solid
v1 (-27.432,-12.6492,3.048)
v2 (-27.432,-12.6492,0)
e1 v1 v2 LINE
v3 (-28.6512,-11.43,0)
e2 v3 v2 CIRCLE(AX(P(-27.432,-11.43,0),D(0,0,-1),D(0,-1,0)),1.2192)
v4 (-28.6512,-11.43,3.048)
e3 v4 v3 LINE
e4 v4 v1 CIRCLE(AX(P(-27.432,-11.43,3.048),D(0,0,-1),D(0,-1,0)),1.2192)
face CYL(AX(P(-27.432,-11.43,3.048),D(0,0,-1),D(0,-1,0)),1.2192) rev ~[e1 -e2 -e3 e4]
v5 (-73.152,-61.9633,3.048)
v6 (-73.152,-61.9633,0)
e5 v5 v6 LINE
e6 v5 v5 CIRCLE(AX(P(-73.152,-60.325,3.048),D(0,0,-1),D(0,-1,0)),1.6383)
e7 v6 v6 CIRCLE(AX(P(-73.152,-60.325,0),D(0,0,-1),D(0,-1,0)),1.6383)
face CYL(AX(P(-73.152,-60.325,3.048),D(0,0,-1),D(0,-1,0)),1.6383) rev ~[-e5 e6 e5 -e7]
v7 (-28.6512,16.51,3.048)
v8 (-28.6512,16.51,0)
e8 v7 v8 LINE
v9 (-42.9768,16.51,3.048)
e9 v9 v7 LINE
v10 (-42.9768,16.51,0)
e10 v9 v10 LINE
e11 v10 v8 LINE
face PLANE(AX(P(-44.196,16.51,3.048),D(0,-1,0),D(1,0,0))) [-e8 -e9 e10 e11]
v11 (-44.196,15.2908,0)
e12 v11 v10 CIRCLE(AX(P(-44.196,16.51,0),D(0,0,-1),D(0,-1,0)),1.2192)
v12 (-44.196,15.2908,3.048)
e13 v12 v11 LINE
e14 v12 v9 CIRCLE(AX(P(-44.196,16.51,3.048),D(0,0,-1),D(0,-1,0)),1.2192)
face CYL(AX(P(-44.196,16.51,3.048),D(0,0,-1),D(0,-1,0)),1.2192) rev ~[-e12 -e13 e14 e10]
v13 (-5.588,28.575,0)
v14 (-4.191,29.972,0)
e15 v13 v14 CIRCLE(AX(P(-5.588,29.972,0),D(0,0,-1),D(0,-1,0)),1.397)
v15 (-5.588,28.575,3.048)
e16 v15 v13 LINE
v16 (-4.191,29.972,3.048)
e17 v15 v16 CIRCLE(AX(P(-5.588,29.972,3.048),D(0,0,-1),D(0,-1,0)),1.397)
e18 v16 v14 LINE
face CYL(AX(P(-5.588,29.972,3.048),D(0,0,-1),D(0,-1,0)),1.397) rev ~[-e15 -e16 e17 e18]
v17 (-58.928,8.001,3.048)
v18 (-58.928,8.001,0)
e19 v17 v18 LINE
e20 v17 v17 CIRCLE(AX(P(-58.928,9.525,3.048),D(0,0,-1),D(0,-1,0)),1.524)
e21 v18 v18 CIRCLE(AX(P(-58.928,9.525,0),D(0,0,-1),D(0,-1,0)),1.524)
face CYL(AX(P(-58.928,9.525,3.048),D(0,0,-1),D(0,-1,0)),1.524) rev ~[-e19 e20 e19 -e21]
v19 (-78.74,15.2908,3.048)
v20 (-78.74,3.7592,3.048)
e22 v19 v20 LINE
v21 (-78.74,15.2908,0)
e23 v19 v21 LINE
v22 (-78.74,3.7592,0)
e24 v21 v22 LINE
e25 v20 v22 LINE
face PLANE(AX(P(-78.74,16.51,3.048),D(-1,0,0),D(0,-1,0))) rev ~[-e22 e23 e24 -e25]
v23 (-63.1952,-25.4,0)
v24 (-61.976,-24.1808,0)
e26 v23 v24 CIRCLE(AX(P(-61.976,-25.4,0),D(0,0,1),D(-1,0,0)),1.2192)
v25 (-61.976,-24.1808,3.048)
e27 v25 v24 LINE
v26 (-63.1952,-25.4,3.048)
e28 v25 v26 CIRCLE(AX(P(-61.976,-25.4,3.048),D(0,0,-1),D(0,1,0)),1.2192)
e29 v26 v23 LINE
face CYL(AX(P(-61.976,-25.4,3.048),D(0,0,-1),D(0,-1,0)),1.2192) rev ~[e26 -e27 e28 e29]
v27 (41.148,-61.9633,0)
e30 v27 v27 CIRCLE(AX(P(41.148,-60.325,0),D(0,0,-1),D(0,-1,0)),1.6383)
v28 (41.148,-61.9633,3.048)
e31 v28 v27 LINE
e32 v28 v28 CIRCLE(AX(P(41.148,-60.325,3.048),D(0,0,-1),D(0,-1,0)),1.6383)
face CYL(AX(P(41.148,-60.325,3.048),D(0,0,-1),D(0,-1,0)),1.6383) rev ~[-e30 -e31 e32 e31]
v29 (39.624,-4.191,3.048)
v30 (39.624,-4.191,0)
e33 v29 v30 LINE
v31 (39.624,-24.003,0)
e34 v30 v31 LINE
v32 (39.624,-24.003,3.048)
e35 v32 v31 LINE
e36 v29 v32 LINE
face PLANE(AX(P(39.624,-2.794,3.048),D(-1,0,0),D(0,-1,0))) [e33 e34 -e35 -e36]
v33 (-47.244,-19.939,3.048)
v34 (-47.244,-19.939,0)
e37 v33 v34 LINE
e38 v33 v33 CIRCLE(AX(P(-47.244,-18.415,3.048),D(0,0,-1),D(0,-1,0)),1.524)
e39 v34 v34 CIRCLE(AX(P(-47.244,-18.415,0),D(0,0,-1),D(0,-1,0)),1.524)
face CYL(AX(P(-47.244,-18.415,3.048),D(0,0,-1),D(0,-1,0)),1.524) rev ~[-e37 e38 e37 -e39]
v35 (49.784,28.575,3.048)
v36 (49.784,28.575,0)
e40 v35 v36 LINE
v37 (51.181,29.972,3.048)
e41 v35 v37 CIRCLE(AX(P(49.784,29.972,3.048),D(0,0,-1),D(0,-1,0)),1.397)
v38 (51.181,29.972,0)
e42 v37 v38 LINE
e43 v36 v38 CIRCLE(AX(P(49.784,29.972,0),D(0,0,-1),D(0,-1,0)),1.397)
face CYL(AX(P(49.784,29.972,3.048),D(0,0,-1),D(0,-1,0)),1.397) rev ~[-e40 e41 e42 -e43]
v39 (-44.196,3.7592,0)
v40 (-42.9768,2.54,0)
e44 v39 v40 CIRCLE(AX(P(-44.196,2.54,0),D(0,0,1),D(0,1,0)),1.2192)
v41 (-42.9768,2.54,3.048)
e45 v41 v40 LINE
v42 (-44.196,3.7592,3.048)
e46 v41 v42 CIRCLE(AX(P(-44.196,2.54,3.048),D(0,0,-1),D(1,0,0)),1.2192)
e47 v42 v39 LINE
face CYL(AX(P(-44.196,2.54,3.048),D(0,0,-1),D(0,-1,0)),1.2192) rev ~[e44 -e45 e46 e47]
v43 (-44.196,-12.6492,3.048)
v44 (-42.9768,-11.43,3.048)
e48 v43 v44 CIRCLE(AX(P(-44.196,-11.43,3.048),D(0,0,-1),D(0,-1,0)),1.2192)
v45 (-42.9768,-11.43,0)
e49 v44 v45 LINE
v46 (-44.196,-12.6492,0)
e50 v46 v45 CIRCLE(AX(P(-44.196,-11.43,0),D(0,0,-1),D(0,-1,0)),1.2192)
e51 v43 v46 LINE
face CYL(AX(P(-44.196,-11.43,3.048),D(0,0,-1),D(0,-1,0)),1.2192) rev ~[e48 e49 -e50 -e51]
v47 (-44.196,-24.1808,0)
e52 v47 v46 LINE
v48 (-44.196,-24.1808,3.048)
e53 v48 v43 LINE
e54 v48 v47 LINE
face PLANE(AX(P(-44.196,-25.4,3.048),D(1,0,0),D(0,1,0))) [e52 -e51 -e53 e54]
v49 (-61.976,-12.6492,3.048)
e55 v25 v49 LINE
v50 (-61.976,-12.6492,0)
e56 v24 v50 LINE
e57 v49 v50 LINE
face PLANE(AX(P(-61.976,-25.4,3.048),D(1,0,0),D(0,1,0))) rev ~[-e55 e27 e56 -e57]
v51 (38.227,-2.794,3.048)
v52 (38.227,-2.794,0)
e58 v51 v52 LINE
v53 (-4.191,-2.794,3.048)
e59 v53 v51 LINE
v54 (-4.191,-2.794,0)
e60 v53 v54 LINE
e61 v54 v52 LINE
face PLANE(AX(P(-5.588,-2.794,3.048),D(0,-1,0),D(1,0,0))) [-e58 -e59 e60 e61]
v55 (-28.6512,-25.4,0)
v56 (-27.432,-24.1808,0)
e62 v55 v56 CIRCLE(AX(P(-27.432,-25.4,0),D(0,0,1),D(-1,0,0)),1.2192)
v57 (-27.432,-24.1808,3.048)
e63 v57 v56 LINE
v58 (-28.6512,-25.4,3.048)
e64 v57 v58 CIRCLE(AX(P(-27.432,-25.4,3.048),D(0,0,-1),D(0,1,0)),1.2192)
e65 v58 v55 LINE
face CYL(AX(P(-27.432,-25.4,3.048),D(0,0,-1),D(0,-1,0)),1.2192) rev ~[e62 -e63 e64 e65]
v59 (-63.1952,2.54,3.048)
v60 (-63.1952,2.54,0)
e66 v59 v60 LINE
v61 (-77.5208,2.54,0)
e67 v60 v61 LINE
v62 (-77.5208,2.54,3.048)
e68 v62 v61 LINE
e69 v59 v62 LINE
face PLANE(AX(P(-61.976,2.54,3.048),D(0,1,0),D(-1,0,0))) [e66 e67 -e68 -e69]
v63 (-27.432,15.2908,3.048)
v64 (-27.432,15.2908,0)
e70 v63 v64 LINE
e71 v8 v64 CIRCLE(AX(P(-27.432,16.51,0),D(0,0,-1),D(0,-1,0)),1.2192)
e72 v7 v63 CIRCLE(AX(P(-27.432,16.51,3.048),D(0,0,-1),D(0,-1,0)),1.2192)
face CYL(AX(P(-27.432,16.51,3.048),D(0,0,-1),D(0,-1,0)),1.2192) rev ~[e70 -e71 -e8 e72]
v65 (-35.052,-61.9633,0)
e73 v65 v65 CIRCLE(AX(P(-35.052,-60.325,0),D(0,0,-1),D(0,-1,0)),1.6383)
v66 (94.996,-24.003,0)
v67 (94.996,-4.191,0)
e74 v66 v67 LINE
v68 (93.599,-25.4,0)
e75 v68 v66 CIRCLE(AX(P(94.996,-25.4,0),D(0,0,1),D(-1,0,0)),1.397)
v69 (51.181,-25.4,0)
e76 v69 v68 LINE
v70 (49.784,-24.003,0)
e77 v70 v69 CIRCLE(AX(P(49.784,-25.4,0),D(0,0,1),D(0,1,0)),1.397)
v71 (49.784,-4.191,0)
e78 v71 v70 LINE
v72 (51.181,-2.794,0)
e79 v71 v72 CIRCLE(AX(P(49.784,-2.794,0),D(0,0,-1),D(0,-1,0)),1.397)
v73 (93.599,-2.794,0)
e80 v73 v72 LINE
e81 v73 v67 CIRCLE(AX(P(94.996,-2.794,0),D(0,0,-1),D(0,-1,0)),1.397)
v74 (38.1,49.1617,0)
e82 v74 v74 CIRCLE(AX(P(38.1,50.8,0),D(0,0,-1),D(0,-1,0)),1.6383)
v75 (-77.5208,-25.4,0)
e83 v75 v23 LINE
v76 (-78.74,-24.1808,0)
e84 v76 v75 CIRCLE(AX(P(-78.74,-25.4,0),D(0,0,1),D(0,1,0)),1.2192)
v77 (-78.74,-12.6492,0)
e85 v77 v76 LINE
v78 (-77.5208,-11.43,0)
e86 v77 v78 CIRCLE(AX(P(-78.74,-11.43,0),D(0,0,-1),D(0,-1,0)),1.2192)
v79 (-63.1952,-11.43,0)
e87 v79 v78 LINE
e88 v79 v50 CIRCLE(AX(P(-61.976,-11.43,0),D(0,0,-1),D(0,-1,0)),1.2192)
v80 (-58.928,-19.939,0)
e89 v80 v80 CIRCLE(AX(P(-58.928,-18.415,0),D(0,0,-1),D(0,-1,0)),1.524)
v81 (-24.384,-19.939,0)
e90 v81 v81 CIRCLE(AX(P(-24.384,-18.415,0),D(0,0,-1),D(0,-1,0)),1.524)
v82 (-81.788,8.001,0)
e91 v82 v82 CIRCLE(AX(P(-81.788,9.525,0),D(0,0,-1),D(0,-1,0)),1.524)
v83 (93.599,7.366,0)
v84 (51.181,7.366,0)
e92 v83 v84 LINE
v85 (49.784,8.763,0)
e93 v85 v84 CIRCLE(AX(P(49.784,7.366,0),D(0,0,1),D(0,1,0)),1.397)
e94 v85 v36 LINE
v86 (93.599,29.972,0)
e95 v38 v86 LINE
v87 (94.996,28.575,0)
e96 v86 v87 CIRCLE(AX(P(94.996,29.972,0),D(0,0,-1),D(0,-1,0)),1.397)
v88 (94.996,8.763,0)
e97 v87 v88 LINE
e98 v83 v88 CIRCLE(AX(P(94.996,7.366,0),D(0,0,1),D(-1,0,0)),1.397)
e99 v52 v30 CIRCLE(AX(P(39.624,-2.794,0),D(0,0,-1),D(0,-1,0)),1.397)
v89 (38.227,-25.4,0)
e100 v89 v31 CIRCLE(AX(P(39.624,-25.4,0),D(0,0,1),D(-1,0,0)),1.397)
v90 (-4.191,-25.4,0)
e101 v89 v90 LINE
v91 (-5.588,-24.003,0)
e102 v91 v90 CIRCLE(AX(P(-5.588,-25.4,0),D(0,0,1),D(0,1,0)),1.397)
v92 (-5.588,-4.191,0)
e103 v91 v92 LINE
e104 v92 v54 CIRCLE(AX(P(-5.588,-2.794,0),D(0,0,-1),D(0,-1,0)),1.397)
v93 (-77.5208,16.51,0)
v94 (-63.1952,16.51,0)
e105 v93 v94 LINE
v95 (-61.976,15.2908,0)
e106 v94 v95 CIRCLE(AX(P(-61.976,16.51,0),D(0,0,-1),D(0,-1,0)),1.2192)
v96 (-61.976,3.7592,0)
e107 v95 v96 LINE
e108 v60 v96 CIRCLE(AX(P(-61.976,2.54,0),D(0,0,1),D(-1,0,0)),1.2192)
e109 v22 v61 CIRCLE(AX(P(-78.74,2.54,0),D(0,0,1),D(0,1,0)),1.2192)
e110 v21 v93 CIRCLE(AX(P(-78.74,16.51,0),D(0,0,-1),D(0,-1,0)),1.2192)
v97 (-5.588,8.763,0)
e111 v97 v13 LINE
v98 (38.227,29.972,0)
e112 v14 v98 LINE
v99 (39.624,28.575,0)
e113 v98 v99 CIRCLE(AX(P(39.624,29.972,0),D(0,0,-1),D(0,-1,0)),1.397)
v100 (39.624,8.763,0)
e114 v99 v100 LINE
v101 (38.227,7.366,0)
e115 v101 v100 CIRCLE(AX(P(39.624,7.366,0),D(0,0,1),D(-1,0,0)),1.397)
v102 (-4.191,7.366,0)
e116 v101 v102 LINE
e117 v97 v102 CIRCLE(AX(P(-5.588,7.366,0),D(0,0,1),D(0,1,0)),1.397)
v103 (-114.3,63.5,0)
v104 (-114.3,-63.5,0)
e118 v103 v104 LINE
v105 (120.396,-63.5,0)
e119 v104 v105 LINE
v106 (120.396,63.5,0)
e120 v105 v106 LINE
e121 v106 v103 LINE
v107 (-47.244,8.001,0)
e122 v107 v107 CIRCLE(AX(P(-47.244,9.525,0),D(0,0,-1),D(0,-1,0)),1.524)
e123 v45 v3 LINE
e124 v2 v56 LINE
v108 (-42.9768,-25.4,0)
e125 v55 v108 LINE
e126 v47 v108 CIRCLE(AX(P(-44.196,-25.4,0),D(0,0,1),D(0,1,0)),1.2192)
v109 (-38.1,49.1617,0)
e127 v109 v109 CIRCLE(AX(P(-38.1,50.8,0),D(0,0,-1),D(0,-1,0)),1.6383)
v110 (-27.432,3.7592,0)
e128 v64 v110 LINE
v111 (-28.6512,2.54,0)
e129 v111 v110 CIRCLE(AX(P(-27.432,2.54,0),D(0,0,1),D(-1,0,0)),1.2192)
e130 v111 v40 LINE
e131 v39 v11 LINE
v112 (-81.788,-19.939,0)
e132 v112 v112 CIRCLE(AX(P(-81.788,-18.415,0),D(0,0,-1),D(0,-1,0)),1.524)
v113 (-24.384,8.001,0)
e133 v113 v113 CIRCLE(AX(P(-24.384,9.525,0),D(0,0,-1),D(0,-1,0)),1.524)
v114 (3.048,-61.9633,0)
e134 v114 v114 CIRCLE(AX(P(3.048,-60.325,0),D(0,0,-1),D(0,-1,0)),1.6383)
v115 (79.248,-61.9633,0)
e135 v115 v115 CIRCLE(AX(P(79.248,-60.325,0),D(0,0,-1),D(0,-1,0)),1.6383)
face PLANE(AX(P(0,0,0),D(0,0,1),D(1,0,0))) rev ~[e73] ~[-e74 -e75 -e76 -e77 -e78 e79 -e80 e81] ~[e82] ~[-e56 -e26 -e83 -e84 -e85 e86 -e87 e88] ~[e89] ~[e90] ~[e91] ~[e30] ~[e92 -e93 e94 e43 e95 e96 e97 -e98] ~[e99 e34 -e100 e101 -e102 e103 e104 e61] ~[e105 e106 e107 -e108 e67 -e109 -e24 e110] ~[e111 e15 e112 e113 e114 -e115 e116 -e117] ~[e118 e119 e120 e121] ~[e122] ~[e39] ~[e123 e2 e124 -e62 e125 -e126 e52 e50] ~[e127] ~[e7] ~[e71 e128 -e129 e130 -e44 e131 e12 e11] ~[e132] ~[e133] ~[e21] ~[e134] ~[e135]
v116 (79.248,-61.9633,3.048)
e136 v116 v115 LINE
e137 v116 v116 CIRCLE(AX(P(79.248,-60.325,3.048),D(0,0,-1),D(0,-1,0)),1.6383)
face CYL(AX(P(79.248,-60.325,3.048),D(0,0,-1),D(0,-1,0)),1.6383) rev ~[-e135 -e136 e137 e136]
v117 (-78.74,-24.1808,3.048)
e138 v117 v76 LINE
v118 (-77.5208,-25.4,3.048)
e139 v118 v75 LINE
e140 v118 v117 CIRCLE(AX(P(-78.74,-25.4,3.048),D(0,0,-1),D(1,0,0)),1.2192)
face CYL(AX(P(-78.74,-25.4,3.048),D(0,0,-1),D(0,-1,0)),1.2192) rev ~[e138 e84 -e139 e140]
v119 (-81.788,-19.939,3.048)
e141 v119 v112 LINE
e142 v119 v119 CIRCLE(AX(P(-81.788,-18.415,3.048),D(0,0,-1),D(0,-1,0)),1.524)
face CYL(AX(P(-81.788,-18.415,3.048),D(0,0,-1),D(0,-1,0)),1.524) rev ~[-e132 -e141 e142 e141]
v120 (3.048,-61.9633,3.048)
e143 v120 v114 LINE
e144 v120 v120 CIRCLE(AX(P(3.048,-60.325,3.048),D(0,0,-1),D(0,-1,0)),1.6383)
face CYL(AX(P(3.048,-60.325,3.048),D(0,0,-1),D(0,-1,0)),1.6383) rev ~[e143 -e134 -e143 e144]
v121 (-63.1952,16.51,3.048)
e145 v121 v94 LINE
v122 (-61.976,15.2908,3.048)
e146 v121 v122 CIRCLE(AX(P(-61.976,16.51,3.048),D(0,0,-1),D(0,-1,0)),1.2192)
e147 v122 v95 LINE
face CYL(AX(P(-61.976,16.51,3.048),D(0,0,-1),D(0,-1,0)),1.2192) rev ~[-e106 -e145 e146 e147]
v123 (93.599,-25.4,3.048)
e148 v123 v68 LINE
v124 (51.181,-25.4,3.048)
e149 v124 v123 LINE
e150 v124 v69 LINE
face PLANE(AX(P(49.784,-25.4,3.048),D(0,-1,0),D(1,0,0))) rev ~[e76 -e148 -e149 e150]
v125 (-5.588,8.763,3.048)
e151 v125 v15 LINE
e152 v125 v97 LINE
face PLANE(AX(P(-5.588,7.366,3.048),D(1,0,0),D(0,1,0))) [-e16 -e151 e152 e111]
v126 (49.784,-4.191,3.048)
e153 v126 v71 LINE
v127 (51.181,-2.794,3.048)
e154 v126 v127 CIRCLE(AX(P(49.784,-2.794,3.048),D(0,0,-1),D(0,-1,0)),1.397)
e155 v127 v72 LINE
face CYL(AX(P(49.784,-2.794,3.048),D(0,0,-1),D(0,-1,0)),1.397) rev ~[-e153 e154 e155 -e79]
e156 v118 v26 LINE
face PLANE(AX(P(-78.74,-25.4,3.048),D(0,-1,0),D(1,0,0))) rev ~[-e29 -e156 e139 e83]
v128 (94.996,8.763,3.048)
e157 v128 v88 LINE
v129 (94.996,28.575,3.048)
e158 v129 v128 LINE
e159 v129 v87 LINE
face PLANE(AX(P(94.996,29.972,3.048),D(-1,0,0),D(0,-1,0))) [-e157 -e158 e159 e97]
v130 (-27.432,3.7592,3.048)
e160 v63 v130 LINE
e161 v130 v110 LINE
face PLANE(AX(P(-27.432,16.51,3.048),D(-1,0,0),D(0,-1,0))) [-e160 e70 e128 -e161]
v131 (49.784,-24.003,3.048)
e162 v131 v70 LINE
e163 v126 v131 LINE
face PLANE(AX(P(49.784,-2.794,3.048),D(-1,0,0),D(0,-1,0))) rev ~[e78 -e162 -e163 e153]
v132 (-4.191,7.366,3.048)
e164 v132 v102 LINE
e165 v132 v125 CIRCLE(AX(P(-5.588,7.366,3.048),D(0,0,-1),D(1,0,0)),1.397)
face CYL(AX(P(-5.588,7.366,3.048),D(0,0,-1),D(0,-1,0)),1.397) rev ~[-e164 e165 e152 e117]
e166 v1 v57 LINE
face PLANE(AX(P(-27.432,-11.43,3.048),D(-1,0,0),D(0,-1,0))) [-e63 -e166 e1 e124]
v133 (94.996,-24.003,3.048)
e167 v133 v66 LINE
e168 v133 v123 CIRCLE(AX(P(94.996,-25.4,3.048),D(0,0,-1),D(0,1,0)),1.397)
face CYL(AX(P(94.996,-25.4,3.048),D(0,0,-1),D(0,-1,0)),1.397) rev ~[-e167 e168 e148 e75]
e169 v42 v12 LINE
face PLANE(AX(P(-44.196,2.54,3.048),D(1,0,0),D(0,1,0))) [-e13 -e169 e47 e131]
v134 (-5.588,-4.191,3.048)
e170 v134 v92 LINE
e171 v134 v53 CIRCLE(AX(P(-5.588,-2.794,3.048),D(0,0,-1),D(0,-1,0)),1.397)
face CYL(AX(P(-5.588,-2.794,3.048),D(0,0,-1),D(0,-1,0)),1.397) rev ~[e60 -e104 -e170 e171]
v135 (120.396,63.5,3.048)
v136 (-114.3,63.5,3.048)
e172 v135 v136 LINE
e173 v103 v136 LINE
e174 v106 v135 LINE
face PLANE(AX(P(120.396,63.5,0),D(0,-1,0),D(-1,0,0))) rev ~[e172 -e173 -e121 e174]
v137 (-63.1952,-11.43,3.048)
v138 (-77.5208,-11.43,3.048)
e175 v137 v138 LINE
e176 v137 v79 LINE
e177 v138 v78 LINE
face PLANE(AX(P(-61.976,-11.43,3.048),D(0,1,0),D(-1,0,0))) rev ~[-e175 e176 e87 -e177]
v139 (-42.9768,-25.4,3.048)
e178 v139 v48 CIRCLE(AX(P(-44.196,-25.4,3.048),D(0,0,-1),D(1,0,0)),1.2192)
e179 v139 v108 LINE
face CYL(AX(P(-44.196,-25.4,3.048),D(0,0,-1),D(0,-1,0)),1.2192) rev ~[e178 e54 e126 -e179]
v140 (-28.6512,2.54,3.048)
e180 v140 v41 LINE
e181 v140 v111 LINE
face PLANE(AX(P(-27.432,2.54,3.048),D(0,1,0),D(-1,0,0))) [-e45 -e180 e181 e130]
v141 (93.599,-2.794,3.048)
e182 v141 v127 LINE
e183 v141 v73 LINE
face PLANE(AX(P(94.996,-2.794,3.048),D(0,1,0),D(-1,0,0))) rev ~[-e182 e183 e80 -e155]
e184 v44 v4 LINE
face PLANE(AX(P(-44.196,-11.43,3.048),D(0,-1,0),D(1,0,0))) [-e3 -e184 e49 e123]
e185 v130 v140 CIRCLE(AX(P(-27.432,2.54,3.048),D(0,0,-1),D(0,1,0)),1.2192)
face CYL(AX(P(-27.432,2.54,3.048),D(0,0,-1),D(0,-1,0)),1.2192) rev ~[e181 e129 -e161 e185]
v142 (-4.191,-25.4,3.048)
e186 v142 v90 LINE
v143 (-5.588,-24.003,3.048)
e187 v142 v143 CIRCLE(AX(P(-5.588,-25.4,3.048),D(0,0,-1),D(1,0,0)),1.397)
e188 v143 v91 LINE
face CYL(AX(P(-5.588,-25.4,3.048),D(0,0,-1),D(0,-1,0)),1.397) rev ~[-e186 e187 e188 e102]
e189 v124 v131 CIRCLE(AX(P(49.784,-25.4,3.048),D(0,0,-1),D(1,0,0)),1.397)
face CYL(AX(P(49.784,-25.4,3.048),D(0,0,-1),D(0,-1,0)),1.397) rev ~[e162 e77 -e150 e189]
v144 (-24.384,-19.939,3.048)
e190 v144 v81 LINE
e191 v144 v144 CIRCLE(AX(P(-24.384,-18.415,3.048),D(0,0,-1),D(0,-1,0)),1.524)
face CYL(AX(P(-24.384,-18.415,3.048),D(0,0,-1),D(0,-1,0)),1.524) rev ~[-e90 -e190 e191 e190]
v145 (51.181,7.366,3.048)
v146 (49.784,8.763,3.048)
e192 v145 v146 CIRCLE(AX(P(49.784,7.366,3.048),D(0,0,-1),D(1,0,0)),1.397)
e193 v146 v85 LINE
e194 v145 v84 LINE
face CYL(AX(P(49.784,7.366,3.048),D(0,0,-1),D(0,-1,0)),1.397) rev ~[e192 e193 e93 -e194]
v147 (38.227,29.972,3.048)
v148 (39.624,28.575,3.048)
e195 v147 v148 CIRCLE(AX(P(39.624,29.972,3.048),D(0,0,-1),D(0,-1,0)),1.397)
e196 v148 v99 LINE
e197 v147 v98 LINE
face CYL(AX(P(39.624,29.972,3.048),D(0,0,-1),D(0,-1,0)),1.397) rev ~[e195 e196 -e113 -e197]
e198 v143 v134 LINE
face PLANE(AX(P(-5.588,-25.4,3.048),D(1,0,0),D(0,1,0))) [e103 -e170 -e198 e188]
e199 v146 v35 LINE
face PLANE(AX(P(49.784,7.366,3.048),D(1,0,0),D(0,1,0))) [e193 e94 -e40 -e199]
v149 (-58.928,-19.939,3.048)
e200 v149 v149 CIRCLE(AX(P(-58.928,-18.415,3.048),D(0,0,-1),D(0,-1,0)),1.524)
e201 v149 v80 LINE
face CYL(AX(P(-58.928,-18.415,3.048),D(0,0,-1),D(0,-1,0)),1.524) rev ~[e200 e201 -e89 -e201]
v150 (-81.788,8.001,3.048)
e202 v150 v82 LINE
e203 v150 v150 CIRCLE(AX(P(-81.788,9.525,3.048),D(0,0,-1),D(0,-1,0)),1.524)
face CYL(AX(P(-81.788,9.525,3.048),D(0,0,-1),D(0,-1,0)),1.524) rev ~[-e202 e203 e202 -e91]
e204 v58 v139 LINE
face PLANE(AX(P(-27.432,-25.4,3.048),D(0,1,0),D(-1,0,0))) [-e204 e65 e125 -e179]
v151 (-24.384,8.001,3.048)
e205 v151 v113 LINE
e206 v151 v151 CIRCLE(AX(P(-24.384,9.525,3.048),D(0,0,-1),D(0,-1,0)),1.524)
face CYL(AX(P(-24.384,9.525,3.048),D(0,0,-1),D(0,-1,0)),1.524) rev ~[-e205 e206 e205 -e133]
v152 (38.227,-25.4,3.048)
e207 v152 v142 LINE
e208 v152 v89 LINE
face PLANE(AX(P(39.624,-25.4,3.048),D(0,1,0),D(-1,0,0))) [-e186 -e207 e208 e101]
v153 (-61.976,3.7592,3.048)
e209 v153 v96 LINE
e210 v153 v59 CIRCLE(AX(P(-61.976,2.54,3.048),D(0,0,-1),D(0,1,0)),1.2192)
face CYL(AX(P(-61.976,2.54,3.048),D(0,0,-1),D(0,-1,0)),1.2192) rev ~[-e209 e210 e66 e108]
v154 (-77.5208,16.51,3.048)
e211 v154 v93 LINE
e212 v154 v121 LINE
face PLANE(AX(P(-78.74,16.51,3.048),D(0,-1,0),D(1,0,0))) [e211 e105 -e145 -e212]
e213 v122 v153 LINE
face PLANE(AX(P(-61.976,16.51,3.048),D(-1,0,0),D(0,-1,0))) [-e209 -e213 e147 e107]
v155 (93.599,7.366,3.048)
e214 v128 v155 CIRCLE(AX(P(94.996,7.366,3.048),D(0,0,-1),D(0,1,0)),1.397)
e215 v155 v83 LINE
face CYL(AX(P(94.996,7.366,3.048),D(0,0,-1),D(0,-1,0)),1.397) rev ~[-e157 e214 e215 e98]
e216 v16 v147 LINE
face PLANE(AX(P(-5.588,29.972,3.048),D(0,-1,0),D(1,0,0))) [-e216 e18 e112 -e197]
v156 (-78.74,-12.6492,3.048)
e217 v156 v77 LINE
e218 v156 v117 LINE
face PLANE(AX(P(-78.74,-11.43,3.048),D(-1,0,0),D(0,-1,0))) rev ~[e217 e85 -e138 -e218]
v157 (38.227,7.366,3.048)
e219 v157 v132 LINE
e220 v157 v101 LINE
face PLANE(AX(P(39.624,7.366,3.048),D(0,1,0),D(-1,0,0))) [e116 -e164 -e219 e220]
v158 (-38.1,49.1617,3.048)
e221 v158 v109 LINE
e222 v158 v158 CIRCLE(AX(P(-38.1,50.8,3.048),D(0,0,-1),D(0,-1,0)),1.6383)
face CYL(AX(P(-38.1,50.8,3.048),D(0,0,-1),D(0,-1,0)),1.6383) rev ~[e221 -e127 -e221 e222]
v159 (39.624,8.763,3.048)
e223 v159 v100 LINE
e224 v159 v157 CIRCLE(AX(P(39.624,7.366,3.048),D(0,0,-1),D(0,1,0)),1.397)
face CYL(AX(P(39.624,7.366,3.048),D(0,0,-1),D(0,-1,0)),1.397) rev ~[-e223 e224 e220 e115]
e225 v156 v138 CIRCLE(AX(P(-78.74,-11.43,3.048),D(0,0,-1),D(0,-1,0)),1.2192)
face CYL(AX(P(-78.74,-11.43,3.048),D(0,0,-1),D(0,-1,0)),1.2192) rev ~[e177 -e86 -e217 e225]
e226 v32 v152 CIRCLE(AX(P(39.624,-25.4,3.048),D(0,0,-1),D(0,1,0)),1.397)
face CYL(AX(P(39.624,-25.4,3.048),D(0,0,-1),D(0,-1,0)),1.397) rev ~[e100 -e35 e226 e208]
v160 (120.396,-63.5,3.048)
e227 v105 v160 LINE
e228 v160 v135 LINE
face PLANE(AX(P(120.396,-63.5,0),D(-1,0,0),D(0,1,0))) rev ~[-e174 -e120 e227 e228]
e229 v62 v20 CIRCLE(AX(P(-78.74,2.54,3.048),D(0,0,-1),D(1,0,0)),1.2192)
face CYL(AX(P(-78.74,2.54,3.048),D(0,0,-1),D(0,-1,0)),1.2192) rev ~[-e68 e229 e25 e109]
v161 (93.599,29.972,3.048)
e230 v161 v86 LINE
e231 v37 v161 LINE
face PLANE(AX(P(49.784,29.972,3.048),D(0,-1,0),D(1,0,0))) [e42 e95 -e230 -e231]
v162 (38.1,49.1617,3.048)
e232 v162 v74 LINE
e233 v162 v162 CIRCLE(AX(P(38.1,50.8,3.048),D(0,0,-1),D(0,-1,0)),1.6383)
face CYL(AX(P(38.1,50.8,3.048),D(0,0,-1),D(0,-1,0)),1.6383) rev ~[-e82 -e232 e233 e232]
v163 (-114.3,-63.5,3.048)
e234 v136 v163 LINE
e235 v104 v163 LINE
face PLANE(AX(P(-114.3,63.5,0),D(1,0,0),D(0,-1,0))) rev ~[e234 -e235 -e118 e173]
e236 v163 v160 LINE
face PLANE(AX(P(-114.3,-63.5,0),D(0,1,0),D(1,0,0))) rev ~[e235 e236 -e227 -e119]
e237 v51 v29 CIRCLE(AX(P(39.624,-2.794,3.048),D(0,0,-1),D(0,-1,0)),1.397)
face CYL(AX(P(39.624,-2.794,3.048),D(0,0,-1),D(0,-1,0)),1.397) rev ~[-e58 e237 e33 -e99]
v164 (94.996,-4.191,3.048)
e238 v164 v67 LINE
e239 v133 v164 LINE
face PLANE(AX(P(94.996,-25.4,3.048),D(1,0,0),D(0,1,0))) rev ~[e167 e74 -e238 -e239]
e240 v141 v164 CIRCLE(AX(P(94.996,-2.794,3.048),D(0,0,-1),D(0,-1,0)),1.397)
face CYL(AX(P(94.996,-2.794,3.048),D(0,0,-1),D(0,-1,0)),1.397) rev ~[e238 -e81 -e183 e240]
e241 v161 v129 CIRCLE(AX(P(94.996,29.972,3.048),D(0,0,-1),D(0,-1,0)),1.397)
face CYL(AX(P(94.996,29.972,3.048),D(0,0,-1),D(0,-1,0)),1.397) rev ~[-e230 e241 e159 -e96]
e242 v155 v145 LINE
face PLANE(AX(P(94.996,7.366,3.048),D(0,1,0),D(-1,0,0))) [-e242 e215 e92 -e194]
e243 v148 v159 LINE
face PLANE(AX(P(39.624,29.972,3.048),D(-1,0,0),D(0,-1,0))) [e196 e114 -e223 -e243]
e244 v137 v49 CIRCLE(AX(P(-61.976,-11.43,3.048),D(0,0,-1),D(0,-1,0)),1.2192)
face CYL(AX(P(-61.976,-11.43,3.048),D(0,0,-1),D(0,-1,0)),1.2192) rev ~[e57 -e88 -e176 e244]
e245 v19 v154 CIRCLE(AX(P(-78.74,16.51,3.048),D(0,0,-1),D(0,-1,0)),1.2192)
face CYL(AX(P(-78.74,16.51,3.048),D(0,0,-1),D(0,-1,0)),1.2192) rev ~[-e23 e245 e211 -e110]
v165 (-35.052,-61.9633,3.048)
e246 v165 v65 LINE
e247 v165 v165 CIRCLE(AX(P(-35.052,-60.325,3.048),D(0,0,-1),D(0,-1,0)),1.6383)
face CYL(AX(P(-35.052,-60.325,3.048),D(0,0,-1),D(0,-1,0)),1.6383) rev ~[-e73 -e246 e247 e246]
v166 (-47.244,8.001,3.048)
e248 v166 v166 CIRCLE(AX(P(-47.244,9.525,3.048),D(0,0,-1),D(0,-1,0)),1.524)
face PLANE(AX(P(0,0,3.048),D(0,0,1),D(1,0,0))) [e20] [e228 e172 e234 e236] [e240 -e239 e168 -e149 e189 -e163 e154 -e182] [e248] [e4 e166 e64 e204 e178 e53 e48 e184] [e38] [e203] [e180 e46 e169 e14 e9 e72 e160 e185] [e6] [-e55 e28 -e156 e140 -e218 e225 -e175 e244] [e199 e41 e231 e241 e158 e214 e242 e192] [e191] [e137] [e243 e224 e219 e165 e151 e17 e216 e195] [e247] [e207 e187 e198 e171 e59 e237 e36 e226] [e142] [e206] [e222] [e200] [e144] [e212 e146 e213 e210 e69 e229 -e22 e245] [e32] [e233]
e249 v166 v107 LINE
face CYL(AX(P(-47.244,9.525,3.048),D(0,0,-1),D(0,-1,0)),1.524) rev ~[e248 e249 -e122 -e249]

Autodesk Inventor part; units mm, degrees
ref_plane "YZ Plane" through (0, 0, 0) normal (1, 0, 0) x (0, 1, 0)
ref_plane "XZ Plane" through (0, 0, 0) normal (0, 1, 0) x (-1, 0, 0)
ref_plane "XY Plane" through (0, 0, 0) normal (0, 0, 1) x (1, 0, 0)
sketch "Sketch1" plane through (0, 0, 0) normal (0, 0, 1) x (1, 0, 0)
  line L0 (120.396, 63.5) -> (-114.3, 63.5)
  line L1 (-114.3, 63.5) -> (-114.3, -63.5)
  line L2 (-114.3, -63.5) -> (120.396, -63.5)
  line L3 (120.396, -63.5) -> (120.396, 63.5)
  point P0 (0, 0)
  dimension "d0" = 234.696
  dimension "d1" = 127
extrude "Plate1" add sketch "Sketch1" along normal blind 3.048
sketch "Sketch2" plane through (0, 0, 3.048) normal (0, 0, 1) x (1, 0, 0)
  line L0 (-114.3, 63.5) -> (-114.3, -63.5) projected
  line L1 (-114.3, -63.5) -> (-114.3, -60.325)
  line L2 (-114.3, -60.325) -> (-73.152, -60.325)
  line L3 (-73.152, -60.325) -> (-35.052, -60.325)
  line L4 (-35.052, -60.325) -> (3.048, -60.325)
  line L5 (3.048, -60.325) -> (41.148, -60.325)
  line L6 (41.148, -60.325) -> (79.248, -60.325)
  line L7 (79.248, -60.325) -> (120.396, -60.325)
  line L8 (120.396, -63.5) -> (120.396, 63.5) projected
  point P0 (0, 0)
  dimension "d3" = 3.175
  dimension "d4" = 41.148
  dimension "d5" = 38.1
  dimension "d6" = 38.1
  dimension "d7" = 180
  dimension "d8" = 38.1
  dimension "d9" = 38.1
hole "Hole1" at (-73.152, -60.325, 3.048) at (-35.052, -60.325, 3.048) at (3.048, -60.325, 3.048) at (41.148, -60.325, 3.048) at (79.248, -60.325, 3.048) direction (0, 0, -1) diameter 3.2766 depth 8.8646 clearance for "Hex Machine Screw" size "#4" standard "Ansi Unified Screw Threads"
sketch "Sketch3" plane through (0, 0, 3.048) normal (0, 0, 1) x (1, 0, 0)
  line L0 (120.396, -63.5) -> (120.396, 63.5) projected
  line L1 (120.396, -63.5) -> (120.396, -50.8)
  line L2 (120.396, -50.8) -> (120.396, -25.4)
  line L3 (120.396, -25.4) -> (94.996, -25.4)
  line L4 (94.996, -25.4) -> (94.996, -2.794)
  line L5 (94.996, -2.794) -> (49.784, -2.794)
  line L6 (49.784, -2.794) -> (49.784, -25.4)
  line L7 (49.784, -25.4) -> (94.996, -25.4)
  line L8 (94.996, -2.794) -> (94.996, 7.366)
  line L9 (94.996, 7.366) -> (49.784, 7.366)
  line L10 (49.784, 7.366) -> (49.784, 29.972)
  line L11 (49.784, 29.972) -> (94.996, 29.972)
  line L12 (94.996, 29.972) -> (94.996, 7.366)
  line L13 (49.784, 29.972) -> (39.624, 29.972)
  line L14 (39.624, 29.972) -> (39.624, 7.366)
  line L15 (39.624, 7.366) -> (-5.588, 7.366)
  line L16 (-5.588, 7.366) -> (-5.588, 29.972)
  line L17 (-5.588, 29.972) -> (39.624, 29.972)
  line L18 (49.784, -2.794) -> (39.624, -2.794)
  line L19 (39.624, -2.794) -> (39.624, -25.4)
  line L20 (39.624, -25.4) -> (-5.588, -25.4)
  line L21 (-5.588, -25.4) -> (-5.588, -2.794)
  line L22 (-5.588, -2.794) -> (39.624, -2.794)
  point P0 (0, 0)
  dimension "d17" = 12.7
  dimension "d18" = 25.4
  dimension "d19" = 25.4
  dimension "d20" = 22.606
  dimension "d21" = 45.212
  dimension "d22" = 90
  dimension "d23" = 10.16
  dimension "d24" = 22.606
  dimension "d25" = 10.16
  dimension "d26" = 45.212
extrude "Cut1" cut sketch "Sketch3" against normal blind 3.048
sketch "Sketch4" plane through (0, 0, 3.048) normal (0, 0, 1) x (1, 0, 0)
  line L0 (-114.3, 63.5) -> (-114.3, -63.5) projected
  line L1 (-114.3, -63.5) -> (-114.3, -50.8)
  line L2 (-114.3, -50.8) -> (-78.74, -50.8)
  line L3 (-78.74, -50.8) -> (-78.74, -25.4)
  line L4 (-78.74, -25.4) -> (-61.976, -25.4)
  line L5 (-61.976, -25.4) -> (-61.976, -11.43)
  line L6 (-61.976, -11.43) -> (-78.74, -11.43)
  line L7 (-78.74, -11.43) -> (-78.74, -25.4)
  line L8 (-61.976, -11.43) -> (-44.196, -11.43)
  line L9 (-44.196, -11.43) -> (-27.432, -11.43)
  line L10 (-27.432, -11.43) -> (-27.432, -25.4)
  line L11 (-27.432, -25.4) -> (-44.196, -25.4)
  line L12 (-44.196, -25.4) -> (-44.196, -11.43)
  line L13 (-44.196, -11.43) -> (-44.196, 2.54)
  line L14 (-44.196, 2.54) -> (-44.196, 16.51)
  line L15 (-44.196, 16.51) -> (-27.432, 16.51)
  line L16 (-27.432, 16.51) -> (-27.432, 2.54)
  line L17 (-27.432, 2.54) -> (-44.196, 2.54)
  line L18 (-44.196, 2.54) -> (-61.976, 2.54)
  line L19 (-61.976, 16.51) -> (-61.976, 2.54)
  line L20 (-61.976, 2.54) -> (-78.74, 2.54)
  line L21 (-78.74, 16.51) -> (-61.976, 16.51)
  line L22 (-78.74, 16.51) -> (-78.74, 2.54)
  point P0 (0, 0)
  dimension "d29" = 12.7
  dimension "d30" = 35.56
  dimension "d31" = 25.4
  dimension "d32" = 16.764
  dimension "d33" = 13.97
  dimension "d34" = 17.78
  dimension "d35" = 16.764
  dimension "d36" = 13.97
  dimension "d37" = 13.97
extrude "Cut2" cut sketch "Sketch4" against normal blind 3.048
sketch "Sketch5" plane through (120.396, -63.5, 0) normal (1, 0, 0) x (0, 0, -1)
  point P0 (0, 63.5)
sketch "Sketch6" plane through (0, 0, 3.048) normal (0, 0, 1) x (1, 0, 0)
  line L0 (120.396, 63.5) -> (-114.3, 63.5) projected
  line L1 (-114.3, 63.5) -> (-114.3, 50.8)
  line L2 (-114.3, 63.5) -> (-114.3, -63.5) projected
  line L3 (-114.3, 50.8) -> (-38.1, 50.8)
  line L4 (-38.1, 50.8) -> (38.1, 50.8)
  point P0 (0, 0)
  dimension "d40" = 12.7
  dimension "d41" = 76.2
  dimension "d42" = 270
  dimension "d43" = 76.2
hole "Hole2" at (-38.1, 50.8, 3.048) at (38.1, 50.8, 3.048) direction (0, 0, -1) diameter 3.2766 end through all clearance for "Flat Head Machine Screw (82)" size "#4" standard "Ansi Unified Screw Threads"
sketch "Sketch7" plane through (0, 0, 3.048) normal (0, 0, 1) x (1, 0, 0)
  line L0 (-61.976, 2.54) -> (-61.976, 16.51) projected
  line L1 (-61.976, 9.525) -> (-58.928, 9.525)
  line L2 (-58.928, 9.525) -> (-52.324, 9.525)
  line L3 (-52.324, 9.525) -> (-52.324, -18.415)
  line L4 (-44.196, -11.43) -> (-44.196, -25.4) projected
  line L5 (-52.324, -18.415) -> (-78.74, -18.415)
  line L6 (-78.74, -11.43) -> (-78.74, -25.4) projected
  line L7 (-78.74, -18.415) -> (-81.788, -18.415)
  line L8 (-81.788, -18.415) -> (-81.788, 9.525)
  line L9 (-81.788, 9.525) -> (-27.432, 9.525)
  line L10 (-27.432, 2.54) -> (-27.432, 16.51) projected
  line L11 (-27.432, 9.525) -> (-24.384, 9.525)
  line L12 (-24.384, 9.525) -> (-24.384, -18.415)
  line L13 (-52.324, 9.525) -> (-38.3228, 9.525)
  line L14 (-38.3228, 9.525) -> (-41.3708, 9.525)
  line L15 (-41.3708, 9.525) -> (-41.3708, -18.415)
  line L16 (-61.976, -25.4) -> (-61.976, -11.43) projected
  line L17 (-61.976, -18.415) -> (-58.928, -18.415)
  line L18 (-44.196, 2.54) -> (-44.196, 16.51) projected
  line L19 (-38.3228, 9.525) -> (-41.3708, 9.525)
  line L20 (-44.196, 9.525) -> (-47.244, 9.525)
  line L21 (-47.244, 9.525) -> (-47.244, -18.415)
  point P0 (0, 0)
  dimension "d51" = 3.048
  dimension "d52" = 6.604
  dimension "d53" = 3.048
  dimension "d54" = 3.048
  dimension "d62" = 3.048
  dimension "d63" = 3.048
  dimension "d78" = 3.048
hole "Hole3" at (-81.788, 9.525, 3.048) at (-81.788, -18.415, 3.048) at (-24.384, -18.415, 3.048) at (-24.384, 9.525, 3.048) at (-58.928, 9.525, 3.048) at (-58.928, -18.415, 3.048) at (-41.3708, -18.415, 3.048) at (-41.3708, 9.525, 3.048) at (-47.244, 9.525, 3.048) at (-47.244, -18.415, 3.048) direction (0, 0, -1) diameter 3.048 depth 3.048
sketch "Sketch8" plane through (0, 0, 3.048) normal (0, 0, 1) x (1, 0, 0)
  circle A0 centre (-58.928, 9.525) radius 1.524 projected
  circle A1 centre (-24.384, -18.415) radius 1.524 projected
  circle A2 centre (-81.788, 9.525) radius 1.524 projected
  circle A3 centre (-81.788, -18.415) radius 1.524 projected
  circle A4 centre (-24.384, 9.525) radius 1.524 projected
  circle A5 centre (-58.928, -18.415) radius 1.524 projected
  circle A6 centre (-38.1, 50.8) radius 1.6383 projected
  circle A7 centre (38.1, 50.8) radius 1.6383 projected
  line L0 (-27.432, -25.4) -> (-44.196, -25.4) projected
  line L1 (-44.196, -25.4) -> (-44.196, -11.43) projected
  line L2 (-44.196, -11.43) -> (-27.432, -11.43) projected
  line L3 (-27.432, -11.43) -> (-27.432, -25.4) projected
  line L4 (-78.74, 16.51) -> (-61.976, 16.51) projected
  line L5 (-61.976, 16.51) -> (-61.976, 2.54) projected
  line L6 (-61.976, 2.54) -> (-78.74, 2.54) projected
  line L7 (-78.74, 2.54) -> (-78.74, 16.51) projected
  line L8 (-27.432, 16.51) -> (-27.432, 2.54) projected
  line L9 (-27.432, 2.54) -> (-44.196, 2.54) projected
  line L10 (-44.196, 2.54) -> (-44.196, 16.51) projected
  line L11 (-44.196, 16.51) -> (-27.432, 16.51) projected
  line L12 (-61.976, -11.43) -> (-61.976, -25.4) projected
  line L13 (-61.976, -25.4) -> (-78.74, -25.4) projected
  line L14 (-78.74, -25.4) -> (-78.74, -11.43) projected
  line L15 (-78.74, -11.43) -> (-61.976, -11.43) projected
  line L16 (49.784, 29.972) -> (94.996, 29.972) projected
  line L17 (94.996, 29.972) -> (94.996, 7.366) projected
  line L18 (94.996, 7.366) -> (49.784, 7.366) projected
  line L19 (49.784, 7.366) -> (49.784, 29.972) projected
  line L20 (-5.588, -25.4) -> (-5.588, -2.794) projected
  line L21 (-5.588, -2.794) -> (39.624, -2.794) projected
  line L22 (39.624, -2.794) -> (39.624, -25.4) projected
  line L23 (39.624, -25.4) -> (-5.588, -25.4) projected
  line L24 (-5.588, 7.366) -> (-5.588, 29.972) projected
  line L25 (-5.588, 29.972) -> (39.624, 29.972) projected
  line L26 (39.624, 29.972) -> (39.624, 7.366) projected
  line L27 (39.624, 7.366) -> (-5.588, 7.366) projected
  line L28 (49.784, -2.794) -> (94.996, -2.794) projected
  line L29 (94.996, -2.794) -> (94.996, -25.4) projected
  line L30 (94.996, -25.4) -> (49.784, -25.4) projected
  line L31 (49.784, -25.4) -> (49.784, -2.794) projected
  circle A8 centre (41.148, -60.325) radius 1.6383 projected
  circle A9 centre (-35.052, -60.325) radius 1.6383 projected
  circle A10 centre (-73.152, -60.325) radius 1.6383 projected
  circle A11 centre (3.048, -60.325) radius 1.6383 projected
  circle A12 centre (79.248, -60.325) radius 1.6383 projected
  line L32 (120.396, 63.5) -> (120.396, -63.5) projected
  line L33 (-114.3, 63.5) -> (120.396, 63.5) projected
  line L34 (-114.3, -63.5) -> (-114.3, 63.5) projected
  line L35 (120.396, -63.5) -> (-114.3, -63.5) projected
  point P0 (0, 0)
  point P1 (-119.4297, -23.9926)
hole "Hole4" at (-78.74, 16.51, 3.048) at (-61.976, 16.51, 3.048) at (-61.976, 2.54, 3.048) at (-78.74, 2.54, 3.048) at (-78.74, -11.43, 3.048) at (-61.976, -11.43, 3.048) at (-61.976, -25.4, 3.048) at (-78.74, -25.4, 3.048) at (-44.196, -25.4, 3.048) at (-27.432, -25.4, 3.048) at (-27.432, -11.43, 3.048) at (-119.4297, -23.9926, 3.048) at (-44.196, -11.43, 3.048) at (-44.196, 2.54, 3.048) at (-44.196, 16.51, 3.048) at (-27.432, 16.51, 3.048) at (-27.432, 2.54, 3.048) direction (0, 0, -1) diameter 2.4384 depth 3.048 clearance for "Flat Head Machine Screw (82)" size "#2" standard "Ansi Unified Screw Threads"
sketch "Sketch9" plane through (0, 0, 3.048) normal (0, 0, 1) x (1, 0, 0)
  arc A0 (-27.432, 15.2908) -> (-28.6512, 16.51) centre (-27.432, 16.51) ccw projected
  line L0 (-27.432, 15.2908) -> (-27.432, 3.7592) projected
  arc A1 (-28.6512, 2.54) -> (-27.432, 3.7592) centre (-27.432, 2.54) ccw projected
  line L1 (-28.6512, 2.54) -> (-42.9768, 2.54) projected
  arc A2 (-44.196, 3.7592) -> (-42.9768, 2.54) centre (-44.196, 2.54) ccw projected
  line L2 (-44.196, 3.7592) -> (-44.196, 15.2908) projected
  arc A3 (-42.9768, 16.51) -> (-44.196, 15.2908) centre (-44.196, 16.51) ccw projected
  line L3 (-42.9768, 16.51) -> (-28.6512, 16.51) projected
  arc A4 (-28.6512, -25.4) -> (-27.432, -24.1808) centre (-27.432, -25.4) ccw projected
  line L4 (-28.6512, -25.4) -> (-42.9768, -25.4) projected
  arc A5 (-44.196, -24.1808) -> (-42.9768, -25.4) centre (-44.196, -25.4) ccw projected
  line L5 (-44.196, -24.1808) -> (-44.196, -12.6492) projected
  arc A6 (-42.9768, -11.43) -> (-44.196, -12.6492) centre (-44.196, -11.43) ccw projected
  line L6 (-42.9768, -11.43) -> (-28.6512, -11.43) projected
  arc A7 (-27.432, -12.6492) -> (-28.6512, -11.43) centre (-27.432, -11.43) ccw projected
  line L7 (-27.432, -12.6492) -> (-27.432, -24.1808) projected
  arc A8 (-78.74, -24.1808) -> (-77.5208, -25.4) centre (-78.74, -25.4) ccw projected
  line L8 (-78.74, -24.1808) -> (-78.74, -12.6492) projected
  arc A9 (-77.5208, -11.43) -> (-78.74, -12.6492) centre (-78.74, -11.43) ccw projected
  line L9 (-77.5208, -11.43) -> (-63.1952, -11.43) projected
  arc A10 (-61.976, -12.6492) -> (-63.1952, -11.43) centre (-61.976, -11.43) ccw projected
  line L10 (-61.976, -12.6492) -> (-61.976, -24.1808) projected
  arc A11 (-63.1952, -25.4) -> (-61.976, -24.1808) centre (-61.976, -25.4) ccw projected
  line L11 (-63.1952, -25.4) -> (-77.5208, -25.4) projected
  arc A12 (-78.74, 3.7592) -> (-77.5208, 2.54) centre (-78.74, 2.54) ccw projected
  line L12 (-78.74, 3.7592) -> (-78.74, 15.2908) projected
  arc A13 (-77.5208, 16.51) -> (-78.74, 15.2908) centre (-78.74, 16.51) ccw projected
  line L13 (-77.5208, 16.51) -> (-63.1952, 16.51) projected
  arc A14 (-61.976, 15.2908) -> (-63.1952, 16.51) centre (-61.976, 16.51) ccw projected
  line L14 (-61.976, 15.2908) -> (-61.976, 3.7592) projected
  arc A15 (-63.1952, 2.54) -> (-61.976, 3.7592) centre (-61.976, 2.54) ccw projected
  line L15 (-63.1952, 2.54) -> (-77.5208, 2.54) projected
  circle A16 centre (-58.928, 9.525) radius 1.524 projected
  circle A17 centre (-24.384, -18.415) radius 1.524 projected
  circle A18 centre (-81.788, 9.525) radius 1.524 projected
  circle A19 centre (-81.788, -18.415) radius 1.524 projected
  circle A20 centre (-24.384, 9.525) radius 1.524 projected
  circle A21 centre (-58.928, -18.415) radius 1.524 projected
  circle A22 centre (-38.1, 50.8) radius 1.6383 projected
  circle A23 centre (38.1, 50.8) radius 1.6383 projected
  line L16 (49.784, 29.972) -> (94.996, 29.972) projected
  line L17 (94.996, 29.972) -> (94.996, 7.366) projected
  line L18 (94.996, 7.366) -> (49.784, 7.366) projected
  line L19 (49.784, 7.366) -> (49.784, 29.972) projected
  line L20 (-5.588, -25.4) -> (-5.588, -2.794) projected
  line L21 (-5.588, -2.794) -> (39.624, -2.794) projected
  line L22 (39.624, -2.794) -> (39.624, -25.4) projected
  line L23 (39.624, -25.4) -> (-5.588, -25.4) projected
  line L24 (-5.588, 7.366) -> (-5.588, 29.972) projected
  line L25 (-5.588, 29.972) -> (39.624, 29.972) projected
  line L26 (39.624, 29.972) -> (39.624, 7.366) projected
  line L27 (39.624, 7.366) -> (-5.588, 7.366) projected
  line L28 (49.784, -2.794) -> (94.996, -2.794) projected
  line L29 (94.996, -2.794) -> (94.996, -25.4) projected
  line L30 (94.996, -25.4) -> (49.784, -25.4) projected
  line L31 (49.784, -25.4) -> (49.784, -2.794) projected
  circle A24 centre (41.148, -60.325) radius 1.6383 projected
  circle A25 centre (-35.052, -60.325) radius 1.6383 projected
  circle A26 centre (-73.152, -60.325) radius 1.6383 projected
  circle A27 centre (3.048, -60.325) radius 1.6383 projected
  circle A28 centre (79.248, -60.325) radius 1.6383 projected
  line L32 (120.396, 63.5) -> (120.396, -63.5) projected
  line L33 (-114.3, 63.5) -> (120.396, 63.5) projected
  line L34 (-114.3, -63.5) -> (-114.3, 63.5) projected
  line L35 (120.396, -63.5) -> (-114.3, -63.5) projected
  point P0 (0, 0)
  point P1 (24.9581, 18.3888)
hole "Hole5" at (-5.588, 29.972, 3.048) at (-5.588, 7.366, 3.048) at (39.624, 7.366, 3.048) at (39.624, 29.972, 3.048) at (24.9581, 18.3888, 3.048) at (49.784, 29.972, 3.048) at (49.784, 7.366, 3.048) at (94.996, 7.366, 3.048) at (94.996, 29.972, 3.048) at (94.996, -2.794, 3.048) at (94.996, -25.4, 3.048) at (49.784, -25.4, 3.048) at (49.784, -2.794, 3.048) at (-5.588, -2.794, 3.048) at (-5.588, -25.4, 3.048) at (39.624, -25.4, 3.048) at (39.624, -2.794, 3.048) direction (0, 0, -1) diameter 2.794 depth 3.048 clearance for "Flat Head Machine Screw (82)" size "#3" standard "Ansi Unified Screw Threads"
equation "\"d27\" = Thickness"
equation "\"d38\" = Thickness"
equation "\"d49\" = Thickness"
equation "\"d60\" = Thickness"
equation "\"d69\" = Thickness"
equation "\"d76\" = Thickness"
equation "\"d2\" = Thickness"
equation "\"BendRadius\" = Thickness"
equation "\"BendReliefWidth\" = Thickness"
equation "\"BendReliefDepth\" = 0.5 * Thickness"
equation "\"CornerReliefSize\" = 4 * Thickness"
equation "\"MinimumRemnant\" = 2 * Thickness"
equation "\"TransitionRadius\" = BendRadius"
equation "\"JacobiRadiusSize\" = BendRadius"
equation "\"GapSize\" = Thickness"
equation "\"Thickness\" = 3.048"
properties part number "sheetmetalface2.0"
